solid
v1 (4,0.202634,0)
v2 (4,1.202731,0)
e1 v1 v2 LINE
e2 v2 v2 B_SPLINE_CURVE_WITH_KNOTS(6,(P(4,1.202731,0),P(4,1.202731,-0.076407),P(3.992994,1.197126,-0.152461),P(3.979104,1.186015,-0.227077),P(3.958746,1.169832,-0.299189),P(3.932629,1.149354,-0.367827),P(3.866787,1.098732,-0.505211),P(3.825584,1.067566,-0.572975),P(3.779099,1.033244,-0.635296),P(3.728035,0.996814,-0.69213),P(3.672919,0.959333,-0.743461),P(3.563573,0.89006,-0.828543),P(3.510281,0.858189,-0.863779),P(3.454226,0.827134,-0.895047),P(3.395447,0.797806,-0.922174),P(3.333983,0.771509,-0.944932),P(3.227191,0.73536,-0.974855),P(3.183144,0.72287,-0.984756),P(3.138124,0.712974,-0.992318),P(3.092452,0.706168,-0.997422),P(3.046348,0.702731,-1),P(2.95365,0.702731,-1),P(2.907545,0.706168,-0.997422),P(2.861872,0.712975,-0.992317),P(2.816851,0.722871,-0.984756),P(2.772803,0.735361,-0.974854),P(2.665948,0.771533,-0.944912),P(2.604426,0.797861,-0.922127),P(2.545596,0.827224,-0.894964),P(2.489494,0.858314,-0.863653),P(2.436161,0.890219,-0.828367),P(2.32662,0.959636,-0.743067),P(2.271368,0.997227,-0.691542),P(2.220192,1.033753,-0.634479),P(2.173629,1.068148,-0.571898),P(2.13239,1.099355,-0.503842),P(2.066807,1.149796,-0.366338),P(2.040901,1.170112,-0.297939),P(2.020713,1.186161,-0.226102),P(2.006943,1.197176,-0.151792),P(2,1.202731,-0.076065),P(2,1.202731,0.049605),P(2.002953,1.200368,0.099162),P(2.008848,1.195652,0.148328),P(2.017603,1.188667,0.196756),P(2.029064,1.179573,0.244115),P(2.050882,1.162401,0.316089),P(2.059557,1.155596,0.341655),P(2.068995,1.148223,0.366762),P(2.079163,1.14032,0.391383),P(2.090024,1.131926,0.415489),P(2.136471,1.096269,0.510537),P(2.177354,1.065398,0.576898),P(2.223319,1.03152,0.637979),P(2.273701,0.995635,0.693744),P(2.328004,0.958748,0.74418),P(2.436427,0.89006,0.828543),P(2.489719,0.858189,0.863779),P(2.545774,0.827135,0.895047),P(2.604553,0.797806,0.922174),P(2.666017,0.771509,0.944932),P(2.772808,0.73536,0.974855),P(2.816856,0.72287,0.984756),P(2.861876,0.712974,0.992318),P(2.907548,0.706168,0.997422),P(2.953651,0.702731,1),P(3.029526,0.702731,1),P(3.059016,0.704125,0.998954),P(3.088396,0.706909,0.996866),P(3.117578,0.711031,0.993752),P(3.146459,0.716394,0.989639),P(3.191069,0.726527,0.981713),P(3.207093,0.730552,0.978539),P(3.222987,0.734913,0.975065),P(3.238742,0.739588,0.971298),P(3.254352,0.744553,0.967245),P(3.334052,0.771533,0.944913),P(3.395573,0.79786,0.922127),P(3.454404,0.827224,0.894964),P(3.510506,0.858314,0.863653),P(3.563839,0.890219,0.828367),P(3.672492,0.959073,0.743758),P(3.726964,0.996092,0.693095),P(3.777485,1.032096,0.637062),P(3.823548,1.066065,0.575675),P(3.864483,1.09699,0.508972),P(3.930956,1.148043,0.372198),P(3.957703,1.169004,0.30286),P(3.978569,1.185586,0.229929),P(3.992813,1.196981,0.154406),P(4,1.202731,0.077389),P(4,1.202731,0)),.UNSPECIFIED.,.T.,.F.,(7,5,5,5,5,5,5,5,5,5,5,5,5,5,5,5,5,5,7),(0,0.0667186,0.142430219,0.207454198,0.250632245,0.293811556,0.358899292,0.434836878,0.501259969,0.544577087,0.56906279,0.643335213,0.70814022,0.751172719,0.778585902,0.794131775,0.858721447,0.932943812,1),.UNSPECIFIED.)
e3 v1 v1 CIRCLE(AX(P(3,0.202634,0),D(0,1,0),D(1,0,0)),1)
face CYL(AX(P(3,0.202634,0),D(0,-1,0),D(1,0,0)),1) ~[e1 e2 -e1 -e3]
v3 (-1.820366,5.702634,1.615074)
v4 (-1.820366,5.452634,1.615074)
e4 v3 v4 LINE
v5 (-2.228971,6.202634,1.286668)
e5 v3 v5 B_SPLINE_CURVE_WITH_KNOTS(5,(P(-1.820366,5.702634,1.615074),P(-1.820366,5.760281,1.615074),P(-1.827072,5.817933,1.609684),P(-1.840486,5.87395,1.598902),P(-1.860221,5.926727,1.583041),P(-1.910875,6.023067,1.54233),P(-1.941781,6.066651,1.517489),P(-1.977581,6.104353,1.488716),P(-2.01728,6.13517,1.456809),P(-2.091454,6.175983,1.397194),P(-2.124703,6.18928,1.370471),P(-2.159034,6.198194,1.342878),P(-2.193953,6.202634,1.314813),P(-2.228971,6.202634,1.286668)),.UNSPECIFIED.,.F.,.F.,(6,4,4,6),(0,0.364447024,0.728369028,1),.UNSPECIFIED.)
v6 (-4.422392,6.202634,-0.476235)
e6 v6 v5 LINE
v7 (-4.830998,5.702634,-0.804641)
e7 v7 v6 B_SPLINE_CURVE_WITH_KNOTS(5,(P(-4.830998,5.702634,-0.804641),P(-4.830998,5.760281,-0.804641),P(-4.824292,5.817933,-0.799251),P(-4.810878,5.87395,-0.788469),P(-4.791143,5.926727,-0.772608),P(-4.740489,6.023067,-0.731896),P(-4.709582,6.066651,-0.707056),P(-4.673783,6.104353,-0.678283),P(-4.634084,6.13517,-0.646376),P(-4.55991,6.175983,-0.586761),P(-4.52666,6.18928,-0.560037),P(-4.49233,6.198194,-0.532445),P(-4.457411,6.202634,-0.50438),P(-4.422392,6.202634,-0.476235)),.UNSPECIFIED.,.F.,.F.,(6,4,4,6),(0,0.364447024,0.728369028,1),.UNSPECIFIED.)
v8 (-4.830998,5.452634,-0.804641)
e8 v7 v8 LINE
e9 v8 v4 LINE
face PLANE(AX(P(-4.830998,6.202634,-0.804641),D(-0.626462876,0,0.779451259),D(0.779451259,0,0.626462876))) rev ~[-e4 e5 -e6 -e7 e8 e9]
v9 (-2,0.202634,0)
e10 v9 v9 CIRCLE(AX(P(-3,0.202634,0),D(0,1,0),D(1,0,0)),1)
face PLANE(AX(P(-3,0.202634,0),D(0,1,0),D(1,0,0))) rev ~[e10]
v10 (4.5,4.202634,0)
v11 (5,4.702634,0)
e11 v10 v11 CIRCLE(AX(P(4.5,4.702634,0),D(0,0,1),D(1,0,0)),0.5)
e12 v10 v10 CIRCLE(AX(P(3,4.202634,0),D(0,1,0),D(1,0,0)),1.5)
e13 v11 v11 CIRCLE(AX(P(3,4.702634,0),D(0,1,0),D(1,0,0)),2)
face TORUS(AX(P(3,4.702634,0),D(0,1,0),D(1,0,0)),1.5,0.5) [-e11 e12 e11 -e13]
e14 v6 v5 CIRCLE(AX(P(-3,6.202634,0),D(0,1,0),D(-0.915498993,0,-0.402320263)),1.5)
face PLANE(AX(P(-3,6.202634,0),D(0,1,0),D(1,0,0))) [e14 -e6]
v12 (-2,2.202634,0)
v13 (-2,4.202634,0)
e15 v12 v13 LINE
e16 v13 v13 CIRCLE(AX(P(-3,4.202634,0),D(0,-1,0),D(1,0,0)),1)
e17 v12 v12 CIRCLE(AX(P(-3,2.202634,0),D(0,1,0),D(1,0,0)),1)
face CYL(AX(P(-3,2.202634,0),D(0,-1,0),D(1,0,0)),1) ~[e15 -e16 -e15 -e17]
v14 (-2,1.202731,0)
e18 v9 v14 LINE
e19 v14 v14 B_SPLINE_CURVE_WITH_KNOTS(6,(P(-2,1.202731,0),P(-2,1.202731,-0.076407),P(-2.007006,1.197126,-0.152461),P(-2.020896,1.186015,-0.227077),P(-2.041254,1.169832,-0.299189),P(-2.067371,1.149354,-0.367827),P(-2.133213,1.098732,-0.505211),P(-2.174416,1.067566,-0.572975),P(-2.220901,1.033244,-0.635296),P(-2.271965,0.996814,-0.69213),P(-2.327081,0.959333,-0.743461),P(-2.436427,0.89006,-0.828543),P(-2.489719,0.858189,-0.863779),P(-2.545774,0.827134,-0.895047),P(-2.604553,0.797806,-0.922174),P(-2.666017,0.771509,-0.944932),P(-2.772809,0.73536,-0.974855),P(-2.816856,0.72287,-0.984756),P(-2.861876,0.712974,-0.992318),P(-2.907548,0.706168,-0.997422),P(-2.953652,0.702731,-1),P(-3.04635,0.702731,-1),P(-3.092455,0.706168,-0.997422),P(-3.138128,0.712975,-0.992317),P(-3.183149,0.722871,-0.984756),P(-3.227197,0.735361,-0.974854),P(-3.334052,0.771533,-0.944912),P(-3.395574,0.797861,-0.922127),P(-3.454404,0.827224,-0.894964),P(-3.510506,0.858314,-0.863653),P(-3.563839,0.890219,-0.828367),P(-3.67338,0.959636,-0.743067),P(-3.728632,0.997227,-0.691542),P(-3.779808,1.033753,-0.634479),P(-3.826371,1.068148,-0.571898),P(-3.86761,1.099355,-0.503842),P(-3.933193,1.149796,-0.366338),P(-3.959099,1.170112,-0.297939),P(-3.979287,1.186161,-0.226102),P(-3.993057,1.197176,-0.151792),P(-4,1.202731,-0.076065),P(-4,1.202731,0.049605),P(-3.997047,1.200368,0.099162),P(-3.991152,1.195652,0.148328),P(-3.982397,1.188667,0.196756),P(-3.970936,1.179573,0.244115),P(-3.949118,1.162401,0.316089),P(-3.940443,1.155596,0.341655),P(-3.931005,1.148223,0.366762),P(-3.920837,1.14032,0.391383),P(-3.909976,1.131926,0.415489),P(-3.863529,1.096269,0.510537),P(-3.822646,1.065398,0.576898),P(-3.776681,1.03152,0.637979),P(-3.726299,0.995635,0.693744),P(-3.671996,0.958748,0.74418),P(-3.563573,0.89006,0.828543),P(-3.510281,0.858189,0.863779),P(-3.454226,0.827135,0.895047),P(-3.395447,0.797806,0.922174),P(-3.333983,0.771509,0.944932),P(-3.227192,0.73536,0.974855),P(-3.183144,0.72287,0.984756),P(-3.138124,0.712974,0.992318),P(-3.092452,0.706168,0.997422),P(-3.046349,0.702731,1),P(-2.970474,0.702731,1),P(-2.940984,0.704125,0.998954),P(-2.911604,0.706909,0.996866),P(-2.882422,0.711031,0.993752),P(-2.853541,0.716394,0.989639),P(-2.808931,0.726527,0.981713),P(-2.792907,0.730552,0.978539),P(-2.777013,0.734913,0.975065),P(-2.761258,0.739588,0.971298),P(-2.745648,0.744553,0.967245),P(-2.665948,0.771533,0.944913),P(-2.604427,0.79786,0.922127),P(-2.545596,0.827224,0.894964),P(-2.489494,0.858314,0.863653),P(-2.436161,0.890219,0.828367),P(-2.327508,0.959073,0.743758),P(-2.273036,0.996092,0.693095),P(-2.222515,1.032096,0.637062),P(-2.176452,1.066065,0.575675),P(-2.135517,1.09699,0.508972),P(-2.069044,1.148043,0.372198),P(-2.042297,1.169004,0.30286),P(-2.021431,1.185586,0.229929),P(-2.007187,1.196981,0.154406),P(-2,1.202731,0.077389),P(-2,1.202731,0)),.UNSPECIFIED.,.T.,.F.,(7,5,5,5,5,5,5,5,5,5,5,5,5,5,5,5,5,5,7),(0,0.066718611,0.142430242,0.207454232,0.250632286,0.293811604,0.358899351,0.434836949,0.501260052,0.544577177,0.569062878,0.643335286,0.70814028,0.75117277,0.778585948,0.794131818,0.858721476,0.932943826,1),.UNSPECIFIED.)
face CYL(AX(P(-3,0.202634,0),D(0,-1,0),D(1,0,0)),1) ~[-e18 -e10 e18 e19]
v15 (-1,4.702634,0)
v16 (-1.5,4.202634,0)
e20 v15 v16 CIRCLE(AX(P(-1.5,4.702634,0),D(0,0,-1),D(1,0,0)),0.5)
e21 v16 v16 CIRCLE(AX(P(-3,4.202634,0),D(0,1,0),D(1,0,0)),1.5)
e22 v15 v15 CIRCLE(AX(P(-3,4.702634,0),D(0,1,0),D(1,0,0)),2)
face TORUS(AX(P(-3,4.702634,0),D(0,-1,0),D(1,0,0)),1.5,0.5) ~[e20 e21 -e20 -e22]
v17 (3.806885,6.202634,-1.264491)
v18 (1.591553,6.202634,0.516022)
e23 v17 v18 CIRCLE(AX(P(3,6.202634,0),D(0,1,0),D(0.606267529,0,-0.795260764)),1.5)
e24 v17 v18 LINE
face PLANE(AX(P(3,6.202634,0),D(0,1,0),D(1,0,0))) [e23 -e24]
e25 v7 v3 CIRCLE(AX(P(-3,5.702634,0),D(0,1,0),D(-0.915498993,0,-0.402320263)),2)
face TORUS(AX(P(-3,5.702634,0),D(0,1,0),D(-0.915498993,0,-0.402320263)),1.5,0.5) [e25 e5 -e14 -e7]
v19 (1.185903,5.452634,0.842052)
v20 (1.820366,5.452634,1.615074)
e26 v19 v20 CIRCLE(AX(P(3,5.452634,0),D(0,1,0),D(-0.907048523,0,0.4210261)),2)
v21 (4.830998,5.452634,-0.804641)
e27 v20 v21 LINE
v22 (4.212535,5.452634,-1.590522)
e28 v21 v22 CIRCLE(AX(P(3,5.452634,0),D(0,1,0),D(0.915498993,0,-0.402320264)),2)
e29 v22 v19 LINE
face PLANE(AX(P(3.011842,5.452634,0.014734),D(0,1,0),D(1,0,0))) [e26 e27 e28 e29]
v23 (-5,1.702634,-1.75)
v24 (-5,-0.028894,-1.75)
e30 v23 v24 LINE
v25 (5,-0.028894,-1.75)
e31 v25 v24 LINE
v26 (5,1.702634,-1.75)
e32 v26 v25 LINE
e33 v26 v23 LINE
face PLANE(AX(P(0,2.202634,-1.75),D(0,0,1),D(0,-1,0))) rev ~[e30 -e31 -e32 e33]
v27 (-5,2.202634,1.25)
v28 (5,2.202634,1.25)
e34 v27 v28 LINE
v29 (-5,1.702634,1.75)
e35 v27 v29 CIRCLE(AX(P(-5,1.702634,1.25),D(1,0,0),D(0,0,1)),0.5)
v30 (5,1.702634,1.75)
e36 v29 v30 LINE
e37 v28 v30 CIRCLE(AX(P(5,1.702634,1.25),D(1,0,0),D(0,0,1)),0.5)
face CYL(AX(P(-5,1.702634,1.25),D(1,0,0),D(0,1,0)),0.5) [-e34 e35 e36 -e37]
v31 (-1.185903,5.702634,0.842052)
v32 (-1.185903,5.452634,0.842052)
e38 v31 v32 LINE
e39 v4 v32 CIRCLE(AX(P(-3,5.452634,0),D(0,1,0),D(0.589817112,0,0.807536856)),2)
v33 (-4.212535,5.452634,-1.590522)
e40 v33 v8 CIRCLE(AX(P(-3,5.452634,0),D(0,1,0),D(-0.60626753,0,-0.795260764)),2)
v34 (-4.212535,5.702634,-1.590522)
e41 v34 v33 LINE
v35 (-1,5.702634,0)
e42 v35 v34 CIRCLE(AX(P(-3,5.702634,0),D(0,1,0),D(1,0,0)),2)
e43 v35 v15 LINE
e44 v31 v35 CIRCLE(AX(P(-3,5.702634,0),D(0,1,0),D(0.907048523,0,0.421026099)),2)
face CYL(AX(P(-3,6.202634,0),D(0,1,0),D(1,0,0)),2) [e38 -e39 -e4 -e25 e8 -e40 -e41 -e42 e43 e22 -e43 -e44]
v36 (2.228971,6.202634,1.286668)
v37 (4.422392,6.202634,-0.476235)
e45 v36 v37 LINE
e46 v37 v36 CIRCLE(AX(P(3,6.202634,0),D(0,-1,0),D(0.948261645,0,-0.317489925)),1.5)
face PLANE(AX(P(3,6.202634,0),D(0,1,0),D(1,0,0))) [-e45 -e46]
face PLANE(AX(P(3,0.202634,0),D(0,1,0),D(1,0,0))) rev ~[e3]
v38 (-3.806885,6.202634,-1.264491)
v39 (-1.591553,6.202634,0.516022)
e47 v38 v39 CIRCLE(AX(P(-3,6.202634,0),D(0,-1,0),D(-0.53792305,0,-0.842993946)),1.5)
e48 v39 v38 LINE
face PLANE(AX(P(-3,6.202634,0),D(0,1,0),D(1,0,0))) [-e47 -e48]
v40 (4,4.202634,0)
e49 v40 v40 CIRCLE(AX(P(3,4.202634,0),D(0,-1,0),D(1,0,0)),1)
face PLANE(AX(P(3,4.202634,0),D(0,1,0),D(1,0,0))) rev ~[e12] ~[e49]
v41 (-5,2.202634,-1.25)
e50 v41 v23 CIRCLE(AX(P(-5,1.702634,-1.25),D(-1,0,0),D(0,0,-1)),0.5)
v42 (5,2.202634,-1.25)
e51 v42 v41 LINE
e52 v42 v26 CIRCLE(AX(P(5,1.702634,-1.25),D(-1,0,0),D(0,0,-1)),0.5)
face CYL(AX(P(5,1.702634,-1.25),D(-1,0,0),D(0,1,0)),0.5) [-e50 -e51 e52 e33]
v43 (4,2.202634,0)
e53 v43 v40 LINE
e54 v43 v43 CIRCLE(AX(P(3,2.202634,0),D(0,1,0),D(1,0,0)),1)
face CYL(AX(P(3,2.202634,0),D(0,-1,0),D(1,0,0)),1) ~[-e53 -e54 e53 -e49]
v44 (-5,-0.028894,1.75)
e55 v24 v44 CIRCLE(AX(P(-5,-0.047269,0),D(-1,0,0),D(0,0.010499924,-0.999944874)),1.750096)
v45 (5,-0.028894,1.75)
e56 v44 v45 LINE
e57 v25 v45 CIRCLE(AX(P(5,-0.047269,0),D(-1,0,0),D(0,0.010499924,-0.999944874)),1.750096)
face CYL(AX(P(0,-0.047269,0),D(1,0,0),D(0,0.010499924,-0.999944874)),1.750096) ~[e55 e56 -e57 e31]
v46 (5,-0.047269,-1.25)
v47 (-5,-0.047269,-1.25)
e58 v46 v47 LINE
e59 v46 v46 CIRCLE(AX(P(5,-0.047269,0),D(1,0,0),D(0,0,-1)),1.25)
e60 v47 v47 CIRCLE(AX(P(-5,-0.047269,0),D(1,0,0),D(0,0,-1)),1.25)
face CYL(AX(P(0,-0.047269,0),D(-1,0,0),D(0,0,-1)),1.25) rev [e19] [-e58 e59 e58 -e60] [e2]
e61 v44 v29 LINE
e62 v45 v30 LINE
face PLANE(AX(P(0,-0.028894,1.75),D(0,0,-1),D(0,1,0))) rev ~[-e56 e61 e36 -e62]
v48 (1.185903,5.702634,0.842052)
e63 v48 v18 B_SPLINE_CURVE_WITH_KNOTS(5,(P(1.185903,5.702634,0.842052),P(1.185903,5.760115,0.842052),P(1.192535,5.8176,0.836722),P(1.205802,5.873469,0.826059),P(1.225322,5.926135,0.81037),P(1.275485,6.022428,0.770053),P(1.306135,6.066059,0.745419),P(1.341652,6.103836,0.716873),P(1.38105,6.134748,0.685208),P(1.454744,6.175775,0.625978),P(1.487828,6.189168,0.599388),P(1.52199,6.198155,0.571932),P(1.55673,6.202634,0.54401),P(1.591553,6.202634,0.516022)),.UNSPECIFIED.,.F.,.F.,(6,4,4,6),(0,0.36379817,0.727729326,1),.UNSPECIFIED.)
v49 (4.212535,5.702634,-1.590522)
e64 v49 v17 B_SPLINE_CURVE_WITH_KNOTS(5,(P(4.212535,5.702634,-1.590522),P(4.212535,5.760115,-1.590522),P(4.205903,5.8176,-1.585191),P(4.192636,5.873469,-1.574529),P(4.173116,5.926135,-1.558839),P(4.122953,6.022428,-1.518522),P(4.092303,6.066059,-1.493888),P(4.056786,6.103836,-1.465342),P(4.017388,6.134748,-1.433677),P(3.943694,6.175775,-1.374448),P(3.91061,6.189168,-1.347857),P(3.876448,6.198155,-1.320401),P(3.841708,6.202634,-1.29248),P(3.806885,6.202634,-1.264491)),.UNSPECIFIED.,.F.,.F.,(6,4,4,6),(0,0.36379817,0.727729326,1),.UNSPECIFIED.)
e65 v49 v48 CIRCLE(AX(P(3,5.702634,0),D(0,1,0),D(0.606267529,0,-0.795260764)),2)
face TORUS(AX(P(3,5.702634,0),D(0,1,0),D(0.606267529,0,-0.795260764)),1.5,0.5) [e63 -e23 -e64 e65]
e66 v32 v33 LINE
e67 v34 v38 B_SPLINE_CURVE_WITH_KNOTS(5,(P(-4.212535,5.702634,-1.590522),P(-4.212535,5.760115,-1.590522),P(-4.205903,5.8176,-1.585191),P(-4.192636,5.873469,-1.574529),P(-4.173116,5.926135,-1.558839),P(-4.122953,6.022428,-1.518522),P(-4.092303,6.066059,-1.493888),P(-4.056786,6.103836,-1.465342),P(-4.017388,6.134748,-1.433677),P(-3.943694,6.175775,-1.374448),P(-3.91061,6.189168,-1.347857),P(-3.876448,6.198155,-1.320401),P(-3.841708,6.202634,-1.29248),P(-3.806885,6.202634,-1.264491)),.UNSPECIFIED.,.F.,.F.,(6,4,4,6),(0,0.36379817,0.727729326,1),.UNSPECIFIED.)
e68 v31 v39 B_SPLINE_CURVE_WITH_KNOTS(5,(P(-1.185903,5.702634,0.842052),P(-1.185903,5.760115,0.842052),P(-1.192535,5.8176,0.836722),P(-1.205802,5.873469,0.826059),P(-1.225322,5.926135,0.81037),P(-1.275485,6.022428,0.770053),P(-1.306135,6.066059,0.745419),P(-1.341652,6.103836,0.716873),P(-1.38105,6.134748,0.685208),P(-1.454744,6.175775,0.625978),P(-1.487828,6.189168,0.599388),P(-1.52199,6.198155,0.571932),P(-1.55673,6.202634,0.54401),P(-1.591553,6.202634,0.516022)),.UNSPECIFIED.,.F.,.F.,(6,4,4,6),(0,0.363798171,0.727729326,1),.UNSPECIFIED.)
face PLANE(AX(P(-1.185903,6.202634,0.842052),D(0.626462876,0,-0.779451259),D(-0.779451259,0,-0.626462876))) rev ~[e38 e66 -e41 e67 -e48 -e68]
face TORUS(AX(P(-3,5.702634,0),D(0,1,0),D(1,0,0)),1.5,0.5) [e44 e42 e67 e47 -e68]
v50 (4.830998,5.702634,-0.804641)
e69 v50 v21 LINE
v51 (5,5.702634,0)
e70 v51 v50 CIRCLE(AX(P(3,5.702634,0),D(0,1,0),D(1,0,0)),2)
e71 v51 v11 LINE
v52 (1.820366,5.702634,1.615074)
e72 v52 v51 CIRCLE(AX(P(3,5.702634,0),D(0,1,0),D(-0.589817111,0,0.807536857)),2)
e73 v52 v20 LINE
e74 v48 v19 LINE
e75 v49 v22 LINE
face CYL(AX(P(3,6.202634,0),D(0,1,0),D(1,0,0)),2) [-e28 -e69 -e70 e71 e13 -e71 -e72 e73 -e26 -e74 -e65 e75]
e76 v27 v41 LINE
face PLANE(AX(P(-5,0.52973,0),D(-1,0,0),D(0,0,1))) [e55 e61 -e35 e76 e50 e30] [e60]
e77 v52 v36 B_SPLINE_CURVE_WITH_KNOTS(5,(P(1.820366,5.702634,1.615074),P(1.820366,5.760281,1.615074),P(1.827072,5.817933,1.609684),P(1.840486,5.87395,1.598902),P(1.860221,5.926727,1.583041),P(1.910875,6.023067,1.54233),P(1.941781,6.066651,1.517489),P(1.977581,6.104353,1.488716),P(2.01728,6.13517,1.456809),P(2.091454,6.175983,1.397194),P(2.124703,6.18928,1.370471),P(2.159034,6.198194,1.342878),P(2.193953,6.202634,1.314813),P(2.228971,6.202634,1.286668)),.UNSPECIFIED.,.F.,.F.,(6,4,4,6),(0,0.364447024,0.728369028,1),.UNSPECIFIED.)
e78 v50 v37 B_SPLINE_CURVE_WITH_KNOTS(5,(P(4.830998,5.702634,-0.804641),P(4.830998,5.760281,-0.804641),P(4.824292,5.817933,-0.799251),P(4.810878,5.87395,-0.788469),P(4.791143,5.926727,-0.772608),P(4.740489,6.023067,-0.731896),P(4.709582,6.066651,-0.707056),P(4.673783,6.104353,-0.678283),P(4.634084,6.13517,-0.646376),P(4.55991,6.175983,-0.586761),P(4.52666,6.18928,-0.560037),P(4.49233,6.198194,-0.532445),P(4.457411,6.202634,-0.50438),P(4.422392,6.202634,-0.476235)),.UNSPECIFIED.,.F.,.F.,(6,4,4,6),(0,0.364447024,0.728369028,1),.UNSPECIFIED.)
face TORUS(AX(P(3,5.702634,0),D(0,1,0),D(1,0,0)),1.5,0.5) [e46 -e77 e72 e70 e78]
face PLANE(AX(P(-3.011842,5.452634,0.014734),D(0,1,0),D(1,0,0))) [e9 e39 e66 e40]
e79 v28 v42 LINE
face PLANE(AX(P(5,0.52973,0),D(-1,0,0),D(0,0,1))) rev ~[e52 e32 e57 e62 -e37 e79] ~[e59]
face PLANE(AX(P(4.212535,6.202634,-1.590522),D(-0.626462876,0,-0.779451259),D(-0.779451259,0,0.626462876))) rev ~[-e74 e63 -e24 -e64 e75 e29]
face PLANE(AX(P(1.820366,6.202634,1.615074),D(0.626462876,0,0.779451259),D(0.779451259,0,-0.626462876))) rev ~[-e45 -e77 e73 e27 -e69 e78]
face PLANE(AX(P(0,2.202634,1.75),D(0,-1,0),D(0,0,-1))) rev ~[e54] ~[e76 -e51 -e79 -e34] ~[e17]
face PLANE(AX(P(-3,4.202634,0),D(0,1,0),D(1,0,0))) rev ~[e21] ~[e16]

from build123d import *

# Parameters (mm, degrees)
SKETCH_1_R          = 1.25
EXTRUDE_1_DEPTH     = 5
SKETCH_2_R          = 1
EXTRUDE_8_DEPTH     = 4
EXTRUDE_START       = -2
SKETCH_2_2_R        = 1
EXTRUDE_9_DEPTH     = 2
SKETCH_4_R          = 2
EXTRUDE_10_DEPTH    = 2
CUT_EXTRUDE_1_DEPTH = 0.75
FILLET_2_R          = 0.5


with BuildPart() as part:
    # Эскиз1 → Бобышка-Вытянуть1 (new, symmetric)
    with BuildSketch(Plane(origin=(0, 0, 0), x_dir=(0, 0, -1), z_dir=(1, 0, 0))):
        with BuildLine():
            Line((-1.75, 2.202634141), (1.75, 2.202634141))
            Line((1.75, 2.202634141), (1.75, -0.028893504))
            ThreePointArc((1.75, -0.028893504), (0, -1.797365859), (-1.75, -0.028893504))
            Line((-1.75, -0.028893504), (-1.75, 2.202634141))
        make_face()
        with Locations((0, -0.047269384)):
            Circle(SKETCH_1_R, mode=Mode.SUBTRACT)
    extrude(amount=EXTRUDE_1_DEPTH, both=True)

    # Эскиз2 → Бобышка-Вытянуть8 (add)
    with BuildSketch(Plane(origin=(0, 2.202634141, 0), x_dir=(1, 0, 0), z_dir=(0, 1, 0))):
        with Locations((3, 0)):
            Circle(SKETCH_2_R)
        with Locations((-3, 0)):
            Circle(SKETCH_2_R)
    extrude(amount=EXTRUDE_8_DEPTH)

    # Эскиз2<2> → Бобышка-Вытянуть9 (add)
    with BuildSketch(Plane(origin=(0, 2.202634141, 0), x_dir=(1, 0, 0), z_dir=(0, 1, 0)).offset(EXTRUDE_START)):
        with Locations((3, 0)):
            Circle(SKETCH_2_2_R)
        with Locations((-3, 0)):
            Circle(SKETCH_2_2_R)
    extrude(amount=EXTRUDE_9_DEPTH)

    # Эскиз4 → Бобышка-Вытянуть10 (add)
    with BuildSketch(Plane(origin=(0, 6.202634141, 0), x_dir=(1, 0, 0), z_dir=(0, 1, 0))):
        with Locations((-3, 0)):
            Circle(SKETCH_4_R)
        with Locations((3, 0)):
            Circle(SKETCH_4_R)
    extrude(amount=-EXTRUDE_10_DEPTH)

    # Эскиз4<3> → Вырез-Вытянуть1 (cut)
    with BuildSketch(Plane(origin=(0, 6.202634141, 0), x_dir=(1, 0, 0), z_dir=(0, 1, 0))):
        with BuildLine():
            ThreePointArc((-4.212535059, 1.590521528), (-4.571679225, 1.236860709), (-4.830997986, 0.804640526))
            Line((-4.830997986, 0.804640526), (-1.820365778, -1.615073714))
            ThreePointArc((-1.820365778, -1.615073714), (-1.454038392, -1.26885882), (-1.185902953, -0.842052198))
            Line((-1.185902953, -0.842052198), (-4.212535059, 1.590521528))
        make_face()
        with BuildLine():
            Line((1.820365778, -1.615073714), (4.830997986, 0.804640526))
            ThreePointArc((4.830997986, 0.804640526), (4.571679225, 1.236860709), (4.212535059, 1.590521528))
            Line((4.212535059, 1.590521528), (1.185902953, -0.842052198))
            ThreePointArc((1.185902953, -0.842052198), (1.454038392, -1.26885882), (1.820365778, -1.615073714))
        make_face()
    extrude(amount=-CUT_EXTRUDE_1_DEPTH, mode=Mode.SUBTRACT)

    # Скругление2
    fillet_2_edges = [part.edges().sort_by_distance(p)[0] for p in [
        (0, 2.202634141, 1.75),
        (0, 2.202634141, -1.75),
        (-4.252925752, 6.202634141, 1.558902518),
        (-2.112607786, 6.202634141, -1.792354613),
        (-5, 4.202634141, 0),
        (1, 4.202634141, 0),
        (1.747074248, 6.202634141, -1.558902518),
        (3.905740458, 6.202634141, 1.783152888),
    ]]
    fillet(fillet_2_edges, radius=FILLET_2_R)


solid = part.part
